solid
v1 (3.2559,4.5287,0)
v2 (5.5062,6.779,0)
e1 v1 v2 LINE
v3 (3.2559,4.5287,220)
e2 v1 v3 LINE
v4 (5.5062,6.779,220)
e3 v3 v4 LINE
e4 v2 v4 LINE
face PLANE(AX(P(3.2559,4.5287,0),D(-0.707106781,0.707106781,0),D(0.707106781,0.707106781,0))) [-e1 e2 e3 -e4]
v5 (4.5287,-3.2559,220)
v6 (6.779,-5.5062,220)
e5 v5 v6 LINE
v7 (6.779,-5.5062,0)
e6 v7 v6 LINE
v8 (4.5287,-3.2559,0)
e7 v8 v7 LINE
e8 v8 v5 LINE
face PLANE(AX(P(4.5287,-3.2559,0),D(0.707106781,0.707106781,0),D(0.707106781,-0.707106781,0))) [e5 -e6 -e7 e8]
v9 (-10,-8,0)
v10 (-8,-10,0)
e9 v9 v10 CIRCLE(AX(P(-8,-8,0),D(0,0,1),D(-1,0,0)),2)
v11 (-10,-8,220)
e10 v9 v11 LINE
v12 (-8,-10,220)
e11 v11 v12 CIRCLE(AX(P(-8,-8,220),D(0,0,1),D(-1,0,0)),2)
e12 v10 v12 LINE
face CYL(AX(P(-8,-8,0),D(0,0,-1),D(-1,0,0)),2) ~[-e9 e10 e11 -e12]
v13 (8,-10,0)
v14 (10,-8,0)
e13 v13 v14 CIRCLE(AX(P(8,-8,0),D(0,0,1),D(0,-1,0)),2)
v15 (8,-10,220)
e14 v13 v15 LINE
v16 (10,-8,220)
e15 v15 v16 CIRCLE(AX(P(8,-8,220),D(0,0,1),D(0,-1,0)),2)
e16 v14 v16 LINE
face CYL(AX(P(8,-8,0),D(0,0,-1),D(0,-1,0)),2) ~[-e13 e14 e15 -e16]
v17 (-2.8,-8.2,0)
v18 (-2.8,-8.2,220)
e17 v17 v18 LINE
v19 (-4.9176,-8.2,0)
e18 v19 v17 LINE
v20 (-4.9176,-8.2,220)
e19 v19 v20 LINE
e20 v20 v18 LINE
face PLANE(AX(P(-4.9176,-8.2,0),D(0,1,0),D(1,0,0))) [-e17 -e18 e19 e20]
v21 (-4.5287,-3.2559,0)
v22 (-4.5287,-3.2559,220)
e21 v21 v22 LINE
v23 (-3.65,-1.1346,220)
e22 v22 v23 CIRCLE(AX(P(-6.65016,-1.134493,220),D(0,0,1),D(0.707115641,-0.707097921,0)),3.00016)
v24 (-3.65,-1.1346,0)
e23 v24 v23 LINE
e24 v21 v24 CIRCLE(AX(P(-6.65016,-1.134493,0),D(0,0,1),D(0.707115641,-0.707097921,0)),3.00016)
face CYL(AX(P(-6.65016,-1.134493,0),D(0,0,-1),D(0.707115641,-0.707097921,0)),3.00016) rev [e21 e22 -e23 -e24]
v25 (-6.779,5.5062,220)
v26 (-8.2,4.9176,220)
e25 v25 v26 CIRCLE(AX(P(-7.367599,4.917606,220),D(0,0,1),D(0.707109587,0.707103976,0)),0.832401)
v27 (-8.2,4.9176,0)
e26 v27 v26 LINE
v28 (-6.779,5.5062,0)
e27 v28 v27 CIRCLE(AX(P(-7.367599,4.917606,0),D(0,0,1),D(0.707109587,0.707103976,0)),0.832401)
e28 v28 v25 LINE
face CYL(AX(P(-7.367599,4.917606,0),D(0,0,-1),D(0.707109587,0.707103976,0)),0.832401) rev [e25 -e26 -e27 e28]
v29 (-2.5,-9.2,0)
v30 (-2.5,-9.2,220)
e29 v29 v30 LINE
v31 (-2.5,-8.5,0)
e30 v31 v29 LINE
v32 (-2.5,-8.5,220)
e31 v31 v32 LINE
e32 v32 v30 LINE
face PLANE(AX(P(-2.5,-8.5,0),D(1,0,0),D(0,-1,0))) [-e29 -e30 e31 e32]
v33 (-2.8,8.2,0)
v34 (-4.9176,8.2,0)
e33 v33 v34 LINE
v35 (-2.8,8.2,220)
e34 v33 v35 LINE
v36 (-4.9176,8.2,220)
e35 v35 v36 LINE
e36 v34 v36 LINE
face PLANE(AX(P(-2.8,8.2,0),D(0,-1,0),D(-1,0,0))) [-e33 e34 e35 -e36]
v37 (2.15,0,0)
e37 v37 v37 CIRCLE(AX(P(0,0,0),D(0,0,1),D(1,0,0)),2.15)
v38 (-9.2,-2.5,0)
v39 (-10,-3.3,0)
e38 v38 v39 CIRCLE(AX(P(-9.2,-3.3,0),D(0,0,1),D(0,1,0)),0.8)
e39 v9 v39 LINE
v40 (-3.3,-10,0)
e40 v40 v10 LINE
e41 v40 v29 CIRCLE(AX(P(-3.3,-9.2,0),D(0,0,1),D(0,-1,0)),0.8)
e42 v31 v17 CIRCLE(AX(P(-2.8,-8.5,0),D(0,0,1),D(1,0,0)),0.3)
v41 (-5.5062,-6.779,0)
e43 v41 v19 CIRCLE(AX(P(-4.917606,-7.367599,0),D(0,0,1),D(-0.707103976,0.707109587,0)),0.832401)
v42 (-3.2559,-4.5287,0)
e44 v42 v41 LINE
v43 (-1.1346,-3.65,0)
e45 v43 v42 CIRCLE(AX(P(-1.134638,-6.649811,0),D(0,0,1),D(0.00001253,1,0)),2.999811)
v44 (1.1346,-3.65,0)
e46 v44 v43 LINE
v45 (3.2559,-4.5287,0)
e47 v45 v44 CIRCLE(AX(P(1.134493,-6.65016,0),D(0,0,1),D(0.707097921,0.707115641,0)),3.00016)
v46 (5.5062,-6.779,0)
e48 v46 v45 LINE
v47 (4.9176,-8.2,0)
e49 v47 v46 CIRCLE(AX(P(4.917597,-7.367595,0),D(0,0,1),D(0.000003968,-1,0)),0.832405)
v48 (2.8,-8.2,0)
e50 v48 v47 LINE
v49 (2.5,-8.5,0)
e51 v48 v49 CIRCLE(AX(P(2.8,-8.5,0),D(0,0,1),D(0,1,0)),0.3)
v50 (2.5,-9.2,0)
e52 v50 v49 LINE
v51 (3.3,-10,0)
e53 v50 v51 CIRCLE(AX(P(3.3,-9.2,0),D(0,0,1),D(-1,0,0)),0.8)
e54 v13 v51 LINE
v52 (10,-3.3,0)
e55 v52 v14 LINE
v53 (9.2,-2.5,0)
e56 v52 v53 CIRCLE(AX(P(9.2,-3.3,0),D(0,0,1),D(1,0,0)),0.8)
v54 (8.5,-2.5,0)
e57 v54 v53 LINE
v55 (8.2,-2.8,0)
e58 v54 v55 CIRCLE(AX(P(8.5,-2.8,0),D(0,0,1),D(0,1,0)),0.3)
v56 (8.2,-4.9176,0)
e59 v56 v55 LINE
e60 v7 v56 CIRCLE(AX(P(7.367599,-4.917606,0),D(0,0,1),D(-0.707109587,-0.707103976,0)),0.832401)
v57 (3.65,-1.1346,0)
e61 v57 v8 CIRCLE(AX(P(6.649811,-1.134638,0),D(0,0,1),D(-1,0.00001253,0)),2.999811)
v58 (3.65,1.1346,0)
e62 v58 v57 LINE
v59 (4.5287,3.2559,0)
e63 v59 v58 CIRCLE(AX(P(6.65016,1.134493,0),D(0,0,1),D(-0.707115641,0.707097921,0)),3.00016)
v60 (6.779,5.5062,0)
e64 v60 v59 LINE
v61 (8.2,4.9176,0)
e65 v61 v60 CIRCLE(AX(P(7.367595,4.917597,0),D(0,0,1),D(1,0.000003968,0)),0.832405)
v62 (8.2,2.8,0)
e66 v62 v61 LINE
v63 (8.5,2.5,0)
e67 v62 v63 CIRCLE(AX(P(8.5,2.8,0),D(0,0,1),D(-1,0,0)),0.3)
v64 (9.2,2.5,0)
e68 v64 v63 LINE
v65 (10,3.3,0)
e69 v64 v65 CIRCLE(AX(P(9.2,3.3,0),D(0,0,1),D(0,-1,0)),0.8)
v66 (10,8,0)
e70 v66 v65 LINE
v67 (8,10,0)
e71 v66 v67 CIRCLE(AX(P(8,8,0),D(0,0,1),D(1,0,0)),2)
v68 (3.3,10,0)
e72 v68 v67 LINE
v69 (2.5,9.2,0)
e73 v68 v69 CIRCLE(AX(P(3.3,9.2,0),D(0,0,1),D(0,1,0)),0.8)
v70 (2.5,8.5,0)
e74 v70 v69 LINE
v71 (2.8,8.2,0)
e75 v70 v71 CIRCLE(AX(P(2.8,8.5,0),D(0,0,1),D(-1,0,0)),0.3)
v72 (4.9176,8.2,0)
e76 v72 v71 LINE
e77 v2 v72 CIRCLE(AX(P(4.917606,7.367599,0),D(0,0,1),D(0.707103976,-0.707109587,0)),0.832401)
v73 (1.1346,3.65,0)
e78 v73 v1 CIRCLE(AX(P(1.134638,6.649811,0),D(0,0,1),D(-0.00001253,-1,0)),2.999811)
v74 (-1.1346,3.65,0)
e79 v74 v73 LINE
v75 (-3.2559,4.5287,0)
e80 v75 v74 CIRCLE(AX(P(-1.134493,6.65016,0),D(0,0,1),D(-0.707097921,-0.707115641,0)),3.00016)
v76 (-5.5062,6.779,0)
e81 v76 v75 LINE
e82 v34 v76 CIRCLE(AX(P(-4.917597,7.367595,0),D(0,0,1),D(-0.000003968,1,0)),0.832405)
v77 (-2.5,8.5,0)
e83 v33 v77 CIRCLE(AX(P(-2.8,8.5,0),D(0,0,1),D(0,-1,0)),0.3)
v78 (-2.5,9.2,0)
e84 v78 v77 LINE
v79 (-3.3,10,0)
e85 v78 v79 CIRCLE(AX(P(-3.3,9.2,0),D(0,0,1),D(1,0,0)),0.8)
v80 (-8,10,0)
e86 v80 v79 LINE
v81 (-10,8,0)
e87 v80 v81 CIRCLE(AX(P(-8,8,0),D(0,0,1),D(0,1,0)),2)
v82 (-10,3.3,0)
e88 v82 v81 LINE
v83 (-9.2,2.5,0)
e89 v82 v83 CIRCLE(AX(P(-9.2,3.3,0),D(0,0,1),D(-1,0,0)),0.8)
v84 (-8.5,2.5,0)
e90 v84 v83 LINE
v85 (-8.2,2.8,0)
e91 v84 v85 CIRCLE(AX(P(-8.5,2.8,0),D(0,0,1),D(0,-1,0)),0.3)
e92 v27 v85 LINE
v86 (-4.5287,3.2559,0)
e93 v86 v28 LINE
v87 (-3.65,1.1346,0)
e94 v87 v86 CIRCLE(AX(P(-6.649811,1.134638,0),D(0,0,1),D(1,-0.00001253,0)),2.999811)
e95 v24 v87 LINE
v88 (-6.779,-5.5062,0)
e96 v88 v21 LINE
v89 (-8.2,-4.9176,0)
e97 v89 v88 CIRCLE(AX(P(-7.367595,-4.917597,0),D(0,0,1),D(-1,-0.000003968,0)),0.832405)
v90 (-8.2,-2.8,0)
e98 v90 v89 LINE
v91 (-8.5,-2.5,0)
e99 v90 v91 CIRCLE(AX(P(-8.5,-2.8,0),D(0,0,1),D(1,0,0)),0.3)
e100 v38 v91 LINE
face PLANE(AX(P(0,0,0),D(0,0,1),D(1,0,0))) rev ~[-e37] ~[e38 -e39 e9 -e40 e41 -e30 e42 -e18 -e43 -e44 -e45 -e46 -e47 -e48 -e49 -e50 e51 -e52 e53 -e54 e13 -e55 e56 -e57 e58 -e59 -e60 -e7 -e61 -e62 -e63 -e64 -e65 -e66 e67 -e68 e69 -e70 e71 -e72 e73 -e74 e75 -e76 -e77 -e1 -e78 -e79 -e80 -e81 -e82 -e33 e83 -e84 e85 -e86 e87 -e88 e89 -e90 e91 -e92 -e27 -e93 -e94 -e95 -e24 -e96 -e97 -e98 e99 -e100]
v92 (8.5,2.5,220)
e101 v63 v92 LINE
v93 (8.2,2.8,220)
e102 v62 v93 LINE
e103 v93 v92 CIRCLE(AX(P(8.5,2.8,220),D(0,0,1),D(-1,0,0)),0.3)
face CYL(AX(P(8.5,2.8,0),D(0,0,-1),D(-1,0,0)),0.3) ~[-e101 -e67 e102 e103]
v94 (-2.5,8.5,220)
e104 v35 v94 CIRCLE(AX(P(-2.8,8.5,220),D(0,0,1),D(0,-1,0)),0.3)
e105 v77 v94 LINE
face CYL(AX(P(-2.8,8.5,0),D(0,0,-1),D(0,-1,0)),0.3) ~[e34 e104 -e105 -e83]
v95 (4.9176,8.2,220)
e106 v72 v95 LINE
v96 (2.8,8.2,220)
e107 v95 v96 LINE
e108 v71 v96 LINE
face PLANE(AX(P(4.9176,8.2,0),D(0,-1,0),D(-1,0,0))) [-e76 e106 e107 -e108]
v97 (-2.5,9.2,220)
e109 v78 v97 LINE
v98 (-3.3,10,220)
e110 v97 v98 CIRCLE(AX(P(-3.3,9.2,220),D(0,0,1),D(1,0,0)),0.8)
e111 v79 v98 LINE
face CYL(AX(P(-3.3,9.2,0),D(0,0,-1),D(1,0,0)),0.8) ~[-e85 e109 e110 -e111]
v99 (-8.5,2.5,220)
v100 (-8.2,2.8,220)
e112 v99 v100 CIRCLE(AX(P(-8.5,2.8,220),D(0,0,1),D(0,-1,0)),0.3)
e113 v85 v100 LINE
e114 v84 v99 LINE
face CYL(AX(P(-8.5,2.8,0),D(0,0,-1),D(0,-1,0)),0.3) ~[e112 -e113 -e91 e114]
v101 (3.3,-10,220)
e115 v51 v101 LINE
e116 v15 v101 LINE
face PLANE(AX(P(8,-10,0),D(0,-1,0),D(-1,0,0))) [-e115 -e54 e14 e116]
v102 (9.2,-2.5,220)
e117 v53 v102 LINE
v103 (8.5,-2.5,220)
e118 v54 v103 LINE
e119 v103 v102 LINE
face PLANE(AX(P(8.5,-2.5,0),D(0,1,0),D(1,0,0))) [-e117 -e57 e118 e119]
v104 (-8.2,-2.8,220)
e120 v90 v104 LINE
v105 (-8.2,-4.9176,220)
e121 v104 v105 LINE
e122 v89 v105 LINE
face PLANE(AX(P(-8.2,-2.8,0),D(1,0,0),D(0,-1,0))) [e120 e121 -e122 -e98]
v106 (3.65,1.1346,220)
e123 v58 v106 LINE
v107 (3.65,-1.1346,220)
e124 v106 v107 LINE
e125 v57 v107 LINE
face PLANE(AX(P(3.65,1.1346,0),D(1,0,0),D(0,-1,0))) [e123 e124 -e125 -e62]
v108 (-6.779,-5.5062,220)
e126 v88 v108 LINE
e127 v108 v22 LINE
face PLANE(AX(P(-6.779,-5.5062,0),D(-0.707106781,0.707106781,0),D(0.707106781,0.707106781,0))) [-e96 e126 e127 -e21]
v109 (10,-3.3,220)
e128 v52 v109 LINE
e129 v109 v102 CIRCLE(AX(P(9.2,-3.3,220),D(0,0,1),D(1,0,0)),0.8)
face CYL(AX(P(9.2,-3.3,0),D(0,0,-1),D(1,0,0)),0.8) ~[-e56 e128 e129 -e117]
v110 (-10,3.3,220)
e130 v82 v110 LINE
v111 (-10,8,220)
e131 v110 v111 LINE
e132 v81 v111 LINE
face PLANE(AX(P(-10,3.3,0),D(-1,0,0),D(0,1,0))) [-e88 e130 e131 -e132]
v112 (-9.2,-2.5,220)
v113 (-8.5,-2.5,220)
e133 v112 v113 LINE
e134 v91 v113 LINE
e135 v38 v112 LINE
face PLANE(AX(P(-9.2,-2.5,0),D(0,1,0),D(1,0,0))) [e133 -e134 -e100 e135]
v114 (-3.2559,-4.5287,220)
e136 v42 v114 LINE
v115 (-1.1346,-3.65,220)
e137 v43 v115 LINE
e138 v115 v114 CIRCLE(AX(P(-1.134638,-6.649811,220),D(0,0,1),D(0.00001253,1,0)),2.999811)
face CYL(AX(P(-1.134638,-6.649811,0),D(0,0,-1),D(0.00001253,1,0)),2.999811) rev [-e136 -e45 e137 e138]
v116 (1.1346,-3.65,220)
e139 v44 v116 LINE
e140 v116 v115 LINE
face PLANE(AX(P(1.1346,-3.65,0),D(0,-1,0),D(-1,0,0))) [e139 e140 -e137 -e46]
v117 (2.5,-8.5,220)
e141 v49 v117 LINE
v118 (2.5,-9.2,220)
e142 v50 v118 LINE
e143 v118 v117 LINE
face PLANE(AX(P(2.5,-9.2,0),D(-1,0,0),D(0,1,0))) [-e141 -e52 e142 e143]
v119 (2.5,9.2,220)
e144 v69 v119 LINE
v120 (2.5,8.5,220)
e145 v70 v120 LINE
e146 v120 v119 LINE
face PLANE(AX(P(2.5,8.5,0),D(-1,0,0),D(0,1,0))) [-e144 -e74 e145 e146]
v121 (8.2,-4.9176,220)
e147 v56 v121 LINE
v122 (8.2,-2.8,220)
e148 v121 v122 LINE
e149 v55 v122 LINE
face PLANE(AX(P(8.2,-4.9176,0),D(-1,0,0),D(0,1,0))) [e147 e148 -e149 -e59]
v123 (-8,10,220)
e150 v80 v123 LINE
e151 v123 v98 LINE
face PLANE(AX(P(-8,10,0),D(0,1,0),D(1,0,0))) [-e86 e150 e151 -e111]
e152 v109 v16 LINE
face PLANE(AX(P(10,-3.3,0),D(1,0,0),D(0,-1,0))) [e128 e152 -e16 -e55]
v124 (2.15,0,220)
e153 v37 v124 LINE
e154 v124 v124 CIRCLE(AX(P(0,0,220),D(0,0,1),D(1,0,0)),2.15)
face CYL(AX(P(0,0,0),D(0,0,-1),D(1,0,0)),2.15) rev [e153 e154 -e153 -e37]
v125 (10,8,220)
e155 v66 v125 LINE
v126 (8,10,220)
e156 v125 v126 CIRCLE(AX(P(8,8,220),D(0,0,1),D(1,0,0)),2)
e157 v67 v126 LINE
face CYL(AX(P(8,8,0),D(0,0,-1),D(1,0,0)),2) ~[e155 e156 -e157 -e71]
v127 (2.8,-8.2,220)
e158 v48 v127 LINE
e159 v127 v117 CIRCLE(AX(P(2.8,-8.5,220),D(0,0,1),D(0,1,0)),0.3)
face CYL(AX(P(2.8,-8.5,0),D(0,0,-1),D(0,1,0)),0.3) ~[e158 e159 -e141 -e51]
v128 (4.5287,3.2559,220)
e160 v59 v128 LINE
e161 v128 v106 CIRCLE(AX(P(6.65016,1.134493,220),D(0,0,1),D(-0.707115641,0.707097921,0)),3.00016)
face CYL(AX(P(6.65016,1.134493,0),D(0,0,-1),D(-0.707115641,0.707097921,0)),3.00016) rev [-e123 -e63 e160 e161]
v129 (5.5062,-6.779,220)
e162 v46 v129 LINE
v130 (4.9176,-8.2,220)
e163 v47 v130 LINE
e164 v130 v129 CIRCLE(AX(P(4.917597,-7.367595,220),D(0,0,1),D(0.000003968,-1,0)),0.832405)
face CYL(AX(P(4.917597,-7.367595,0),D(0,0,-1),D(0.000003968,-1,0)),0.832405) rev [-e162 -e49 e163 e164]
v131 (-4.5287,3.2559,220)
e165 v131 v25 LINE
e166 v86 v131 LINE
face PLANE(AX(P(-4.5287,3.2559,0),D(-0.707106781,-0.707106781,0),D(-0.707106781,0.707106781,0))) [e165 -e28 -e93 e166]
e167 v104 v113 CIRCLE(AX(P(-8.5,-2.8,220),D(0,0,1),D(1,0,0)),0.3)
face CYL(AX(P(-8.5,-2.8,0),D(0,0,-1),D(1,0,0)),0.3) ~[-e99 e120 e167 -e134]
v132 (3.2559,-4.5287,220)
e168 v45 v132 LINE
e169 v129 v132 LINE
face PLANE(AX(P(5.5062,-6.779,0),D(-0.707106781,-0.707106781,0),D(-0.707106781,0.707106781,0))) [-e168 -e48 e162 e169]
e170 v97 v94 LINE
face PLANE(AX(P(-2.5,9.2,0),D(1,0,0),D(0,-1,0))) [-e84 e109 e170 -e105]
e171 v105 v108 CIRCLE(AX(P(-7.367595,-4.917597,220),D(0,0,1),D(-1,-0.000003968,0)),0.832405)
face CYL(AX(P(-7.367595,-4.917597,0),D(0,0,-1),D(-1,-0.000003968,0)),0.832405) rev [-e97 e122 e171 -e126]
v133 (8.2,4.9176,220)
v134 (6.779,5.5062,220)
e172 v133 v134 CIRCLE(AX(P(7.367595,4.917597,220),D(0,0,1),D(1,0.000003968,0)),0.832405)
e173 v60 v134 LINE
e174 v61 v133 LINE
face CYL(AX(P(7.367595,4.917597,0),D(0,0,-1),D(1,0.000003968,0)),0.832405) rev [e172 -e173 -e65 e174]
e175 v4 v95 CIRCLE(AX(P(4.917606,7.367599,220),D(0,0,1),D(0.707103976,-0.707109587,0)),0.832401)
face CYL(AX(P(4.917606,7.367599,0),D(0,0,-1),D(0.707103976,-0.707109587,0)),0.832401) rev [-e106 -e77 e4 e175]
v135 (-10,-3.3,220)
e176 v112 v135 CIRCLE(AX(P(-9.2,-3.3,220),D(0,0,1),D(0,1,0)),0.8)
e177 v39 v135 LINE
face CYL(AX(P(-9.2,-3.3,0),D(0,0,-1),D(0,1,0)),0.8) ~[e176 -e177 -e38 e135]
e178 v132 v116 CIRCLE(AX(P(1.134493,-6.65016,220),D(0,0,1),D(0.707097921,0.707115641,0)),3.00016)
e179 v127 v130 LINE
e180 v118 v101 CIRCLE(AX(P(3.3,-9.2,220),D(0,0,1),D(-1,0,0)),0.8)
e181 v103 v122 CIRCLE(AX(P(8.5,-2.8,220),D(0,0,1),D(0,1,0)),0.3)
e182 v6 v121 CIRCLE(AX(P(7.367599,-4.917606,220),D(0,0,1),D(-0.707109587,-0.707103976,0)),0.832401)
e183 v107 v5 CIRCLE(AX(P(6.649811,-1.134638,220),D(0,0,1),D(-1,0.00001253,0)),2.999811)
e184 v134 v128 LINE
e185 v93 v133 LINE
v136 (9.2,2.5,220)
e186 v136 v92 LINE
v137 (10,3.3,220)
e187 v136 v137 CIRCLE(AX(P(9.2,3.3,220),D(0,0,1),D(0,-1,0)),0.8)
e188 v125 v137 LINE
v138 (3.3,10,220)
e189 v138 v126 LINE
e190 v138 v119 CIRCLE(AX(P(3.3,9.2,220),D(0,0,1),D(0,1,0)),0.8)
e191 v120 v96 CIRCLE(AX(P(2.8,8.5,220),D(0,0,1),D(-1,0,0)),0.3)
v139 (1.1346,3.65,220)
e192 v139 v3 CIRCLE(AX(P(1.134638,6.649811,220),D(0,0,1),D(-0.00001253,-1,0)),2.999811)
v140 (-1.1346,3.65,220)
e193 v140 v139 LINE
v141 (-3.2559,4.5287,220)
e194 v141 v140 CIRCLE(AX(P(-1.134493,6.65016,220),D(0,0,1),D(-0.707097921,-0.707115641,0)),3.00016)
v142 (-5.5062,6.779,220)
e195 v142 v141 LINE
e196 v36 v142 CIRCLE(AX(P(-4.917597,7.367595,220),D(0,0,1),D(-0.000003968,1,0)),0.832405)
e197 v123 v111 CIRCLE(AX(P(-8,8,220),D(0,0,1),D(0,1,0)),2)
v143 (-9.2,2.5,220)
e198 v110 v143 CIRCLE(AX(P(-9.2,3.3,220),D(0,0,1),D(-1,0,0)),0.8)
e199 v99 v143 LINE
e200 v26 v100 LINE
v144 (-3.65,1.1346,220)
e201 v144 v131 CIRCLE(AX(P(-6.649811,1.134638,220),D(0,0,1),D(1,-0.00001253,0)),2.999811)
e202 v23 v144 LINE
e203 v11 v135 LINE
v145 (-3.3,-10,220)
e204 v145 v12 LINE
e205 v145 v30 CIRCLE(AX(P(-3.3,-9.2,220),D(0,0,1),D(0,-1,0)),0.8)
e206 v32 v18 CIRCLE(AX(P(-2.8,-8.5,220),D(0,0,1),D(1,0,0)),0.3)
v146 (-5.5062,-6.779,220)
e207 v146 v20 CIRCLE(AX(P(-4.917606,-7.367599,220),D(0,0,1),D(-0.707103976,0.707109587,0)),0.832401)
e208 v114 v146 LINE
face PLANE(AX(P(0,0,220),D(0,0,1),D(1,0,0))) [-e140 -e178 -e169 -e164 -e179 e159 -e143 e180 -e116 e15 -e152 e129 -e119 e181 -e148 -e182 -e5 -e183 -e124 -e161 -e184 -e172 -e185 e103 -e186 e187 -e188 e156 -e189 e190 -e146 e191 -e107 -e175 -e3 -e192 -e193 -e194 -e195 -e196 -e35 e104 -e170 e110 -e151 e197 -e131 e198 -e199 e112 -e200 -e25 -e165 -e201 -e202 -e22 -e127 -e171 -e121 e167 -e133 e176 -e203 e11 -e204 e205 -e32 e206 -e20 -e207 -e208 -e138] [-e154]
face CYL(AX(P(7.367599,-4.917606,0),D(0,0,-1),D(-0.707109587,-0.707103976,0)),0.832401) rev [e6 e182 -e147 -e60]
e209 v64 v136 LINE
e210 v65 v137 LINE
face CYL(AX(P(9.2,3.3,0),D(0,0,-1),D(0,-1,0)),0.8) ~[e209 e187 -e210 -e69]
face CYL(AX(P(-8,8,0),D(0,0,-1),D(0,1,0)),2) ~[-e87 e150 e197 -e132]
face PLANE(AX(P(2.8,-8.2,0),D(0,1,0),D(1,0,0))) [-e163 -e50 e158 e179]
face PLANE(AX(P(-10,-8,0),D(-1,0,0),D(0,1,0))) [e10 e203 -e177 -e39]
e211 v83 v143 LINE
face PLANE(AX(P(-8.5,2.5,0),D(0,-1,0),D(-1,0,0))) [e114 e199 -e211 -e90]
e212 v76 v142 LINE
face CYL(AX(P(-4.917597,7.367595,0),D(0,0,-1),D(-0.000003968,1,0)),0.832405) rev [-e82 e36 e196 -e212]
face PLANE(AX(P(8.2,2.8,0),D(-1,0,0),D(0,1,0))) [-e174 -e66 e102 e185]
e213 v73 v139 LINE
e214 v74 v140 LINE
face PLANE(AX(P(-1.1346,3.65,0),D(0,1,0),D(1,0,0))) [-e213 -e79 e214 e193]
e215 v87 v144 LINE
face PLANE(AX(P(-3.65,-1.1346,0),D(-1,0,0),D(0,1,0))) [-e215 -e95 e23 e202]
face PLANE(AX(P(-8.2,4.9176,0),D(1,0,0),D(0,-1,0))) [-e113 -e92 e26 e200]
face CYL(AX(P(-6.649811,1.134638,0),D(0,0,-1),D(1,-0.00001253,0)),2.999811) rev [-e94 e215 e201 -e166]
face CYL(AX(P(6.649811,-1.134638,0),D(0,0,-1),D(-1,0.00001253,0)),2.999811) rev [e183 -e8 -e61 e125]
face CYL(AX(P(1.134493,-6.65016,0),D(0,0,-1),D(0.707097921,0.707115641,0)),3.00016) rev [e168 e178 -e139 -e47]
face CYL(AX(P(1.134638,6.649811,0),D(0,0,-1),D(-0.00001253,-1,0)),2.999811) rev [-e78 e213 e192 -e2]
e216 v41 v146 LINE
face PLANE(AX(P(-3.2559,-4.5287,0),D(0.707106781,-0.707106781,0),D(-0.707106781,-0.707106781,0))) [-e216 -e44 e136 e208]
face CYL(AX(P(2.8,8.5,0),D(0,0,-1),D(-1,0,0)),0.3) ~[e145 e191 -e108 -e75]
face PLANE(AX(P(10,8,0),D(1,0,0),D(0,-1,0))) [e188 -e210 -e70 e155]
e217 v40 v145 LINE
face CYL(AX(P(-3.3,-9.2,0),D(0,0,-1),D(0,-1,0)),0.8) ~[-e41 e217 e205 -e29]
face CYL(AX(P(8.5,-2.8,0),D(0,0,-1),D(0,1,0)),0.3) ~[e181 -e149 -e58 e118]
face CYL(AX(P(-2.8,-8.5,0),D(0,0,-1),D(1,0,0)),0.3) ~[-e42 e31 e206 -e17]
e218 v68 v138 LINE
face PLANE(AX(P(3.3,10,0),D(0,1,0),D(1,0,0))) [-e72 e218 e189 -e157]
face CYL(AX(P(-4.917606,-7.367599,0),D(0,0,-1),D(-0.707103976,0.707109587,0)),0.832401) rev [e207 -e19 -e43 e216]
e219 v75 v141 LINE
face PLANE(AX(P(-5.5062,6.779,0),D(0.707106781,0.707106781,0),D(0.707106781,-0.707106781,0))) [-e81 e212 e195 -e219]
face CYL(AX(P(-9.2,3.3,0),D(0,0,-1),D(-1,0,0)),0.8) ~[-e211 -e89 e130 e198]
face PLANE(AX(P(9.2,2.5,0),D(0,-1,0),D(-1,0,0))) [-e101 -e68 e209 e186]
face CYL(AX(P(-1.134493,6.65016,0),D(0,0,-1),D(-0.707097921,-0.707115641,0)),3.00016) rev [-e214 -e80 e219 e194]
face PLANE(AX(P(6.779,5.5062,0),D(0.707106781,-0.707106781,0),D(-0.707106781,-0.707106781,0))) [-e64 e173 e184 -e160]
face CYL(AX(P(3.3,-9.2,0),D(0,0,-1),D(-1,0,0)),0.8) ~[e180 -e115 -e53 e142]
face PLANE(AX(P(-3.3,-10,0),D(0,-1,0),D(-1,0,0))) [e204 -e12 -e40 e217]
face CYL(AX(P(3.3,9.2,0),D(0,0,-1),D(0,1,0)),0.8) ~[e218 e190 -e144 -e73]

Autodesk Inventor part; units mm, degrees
ref_plane "YZ Plane" through (0, 0, 0) normal (1, 0, 0) x (0, 1, 0)
ref_plane "Startebene" through (0, 0, 0) normal (0, 0, 1) x (1, 0, 0)
ref_plane "Endebene" through (0, 0, 220) normal (0, 0, 1) x (1, 0, 0)
sketch "Skizze" plane through (0, 0, 0) normal (0, 0, 1) x (1, 0, 0)
  arc A0 (-4.5287, -3.2559) -> (-3.65, -1.1346) centre (-6.65, -1.1346) ccw
  line L0 (-3.65, -1.1346) -> (-3.65, 1.1346)
  circle A1 centre (0, 0) radius 2.15
  line L1 (1.1346, -3.65) -> (-1.1346, -3.65)
  arc A2 (-1.1346, -3.65) -> (-3.2559, -4.5287) centre (-1.1346, -6.65) ccw
  line L2 (-6.779, -5.5062) -> (-4.5287, -3.2559)
  line L3 (-3.2559, -4.5287) -> (-5.5062, -6.779)
  arc A3 (-2.5, -8.5) -> (-2.8, -8.2) centre (-2.8, -8.5) ccw
  line L4 (-2.5, -8.5) -> (-2.5, -9.2)
  line L5 (-4.9176, -8.2) -> (-2.8, -8.2)
  arc A4 (-5.5062, -6.779) -> (-4.9176, -8.2) centre (-4.9176, -7.3676) ccw
  arc A5 (-3.3, -10) -> (-2.5, -9.2) centre (-3.3, -9.2) ccw
  line L6 (-3.3, -10) -> (-8, -10)
  line L7 (10, -3.3) -> (10, -8)
  line L8 (5.5062, -6.779) -> (3.2559, -4.5287)
  arc A6 (6.779, -5.5062) -> (8.2, -4.9176) centre (7.3676, -4.9176) ccw
  arc A7 (3.2559, -4.5287) -> (1.1346, -3.65) centre (1.1346, -6.65) ccw
  line L9 (4.5287, -3.2559) -> (6.779, -5.5062)
  arc A8 (3.65, -1.1346) -> (4.5287, -3.2559) centre (6.65, -1.1346) ccw
  arc A9 (8.5, -2.5) -> (8.2, -2.8) centre (8.5, -2.8) ccw
  line L10 (3.65, 1.1346) -> (3.65, -1.1346)
  line L11 (8.5, -2.5) -> (9.2, -2.5)
  arc A10 (10, -3.3) -> (9.2, -2.5) centre (9.2, -3.3) ccw
  line L12 (8.2, -4.9176) -> (8.2, -2.8)
  line L13 (2.5, 8.5) -> (2.5, 9.2)
  arc A11 (2.5, 8.5) -> (2.8, 8.2) centre (2.8, 8.5) ccw
  arc A12 (1.1346, 3.65) -> (3.2559, 4.5287) centre (1.1346, 6.65) ccw
  line L14 (-1.1346, 3.65) -> (1.1346, 3.65)
  arc A13 (3.3, 10) -> (2.5, 9.2) centre (3.3, 9.2) ccw
  line L15 (4.9176, 8.2) -> (2.8, 8.2)
  arc A14 (4.5287, 3.2559) -> (3.65, 1.1346) centre (6.65, 1.1346) ccw
  line L16 (3.2559, 4.5287) -> (5.5062, 6.779)
  arc A15 (5.5062, 6.779) -> (4.9176, 8.2) centre (4.9176, 7.3676) ccw
  line L17 (6.779, 5.5062) -> (4.5287, 3.2559)
  line L18 (3.3, 10) -> (8, 10)
  arc A16 (10, 8) -> (8, 10) centre (8, 8) ccw
  line L19 (8.2, 2.8) -> (8.2, 4.9176)
  line L20 (10, 8) -> (10, 3.3)
  arc A17 (8.2, 4.9176) -> (6.779, 5.5062) centre (7.3676, 4.9176) ccw
  line L21 (-2.8, 8.2) -> (-4.9176, 8.2)
  line L22 (-2.5, 9.2) -> (-2.5, 8.5)
  arc A18 (-2.5, 9.2) -> (-3.3, 10) centre (-3.3, 9.2) ccw
  arc A19 (-2.8, 8.2) -> (-2.5, 8.5) centre (-2.8, 8.5) ccw
  arc A20 (-3.65, 1.1346) -> (-4.5287, 3.2559) centre (-6.65, 1.1346) ccw
  arc A21 (-3.2559, 4.5287) -> (-1.1346, 3.65) centre (-1.1346, 6.65) ccw
  arc A22 (4.9176, -8.2) -> (5.5062, -6.779) centre (4.9176, -7.3676) ccw
  arc A23 (8, -10) -> (10, -8) centre (8, -8) ccw
  line L23 (2.8, -8.2) -> (4.9176, -8.2)
  line L24 (8, -10) -> (3.3, -10)
  arc A24 (2.8, -8.2) -> (2.5, -8.5) centre (2.8, -8.5) ccw
  arc A25 (2.5, -9.2) -> (3.3, -10) centre (3.3, -9.2) ccw
  line L25 (2.5, -9.2) -> (2.5, -8.5)
  arc A26 (8.2, 2.8) -> (8.5, 2.5) centre (8.5, 2.8) ccw
  line L26 (9.2, 2.5) -> (8.5, 2.5)
  arc A27 (9.2, 2.5) -> (10, 3.3) centre (9.2, 3.3) ccw
  arc A28 (-4.9176, 8.2) -> (-5.5062, 6.779) centre (-4.9176, 7.3676) ccw
  line L27 (-8, 10) -> (-3.3, 10)
  line L28 (-5.5062, 6.779) -> (-3.2559, 4.5287)
  arc A29 (-8, 10) -> (-10, 8) centre (-8, 8) ccw
  arc A30 (-6.779, 5.5062) -> (-8.2, 4.9176) centre (-7.3676, 4.9176) ccw
  line L29 (-10, 3.3) -> (-10, 8)
  line L30 (-8.2, 4.9176) -> (-8.2, 2.8)
  arc A31 (-8.5, 2.5) -> (-8.2, 2.8) centre (-8.5, 2.8) ccw
  line L31 (-8.5, 2.5) -> (-9.2, 2.5)
  arc A32 (-10, 3.3) -> (-9.2, 2.5) centre (-9.2, 3.3) ccw
  line L32 (-4.5287, 3.2559) -> (-6.779, 5.5062)
  line L33 (-10, -8) -> (-10, -3.3)
  arc A33 (-8.2, -4.9176) -> (-6.779, -5.5062) centre (-7.3676, -4.9176) ccw
  arc A34 (-10, -8) -> (-8, -10) centre (-8, -8) ccw
  line L34 (-10, -8) -> (-10, -3.3)
  arc A35 (-8.2, -2.8) -> (-8.5, -2.5) centre (-8.5, -2.8) ccw
  line L35 (-9.2, -2.5) -> (-8.5, -2.5)
  arc A36 (-9.2, -2.5) -> (-10, -3.3) centre (-9.2, -3.3) ccw
  line L36 (-8.2, -2.8) -> (-8.2, -4.9176)
  dimension "d4" = 4.3
  dimension "d5" = 6.35
  dimension "d6" = 10
  dimension "d7" = 2.5
  dimension "d8" = 5.8
  dimension "d9" = 10.5
  dimension "d10" = 3
  dimension "d11" = 7.5
  dimension "d12" = 12.5
  dimension "d13" = 13.65
  dimension "d14" = 5.7
  dimension "d15" = 10.7
  dimension "d16" = 1.15
  dimension "d17" = 6.15
  dimension "d18" = 1.8
  dimension "d19" = 0.8
  dimension "d20" = 0.3
  dimension "d21" = 2
  dimension "d22" = 0.8324
  dimension "d23" = 45
  dimension "d24" = 90
  dimension "d25" = 90
  dimension "d26" = 1.8
  dimension "d27" = 18.2
  dimension "d28" = 20
  dimension "d29" = 5
  dimension "d30" = 7.5
  dimension "d31" = 1.8
  dimension "d32" = 0.9
  dimension "d33" = 0.9
  dimension "d34" = 20
extrude "Körper" add sketch "Skizze" along normal up to surface (220 mm away) from surface at 0
sketch "Skizze6" plane through (0, 0, 0) normal (0, 0, 1) x (1, 0, 0)
  line L0 (0, 0) -> (10, 0)
ref_plane "Arbeitsebene4" through (0, 0, 0) normal (0, -1, 0) x (1, 0, 0)
sketch "Skizze7" plane through (0, 0, 0) normal (0, -1, 0) x (1, 0, 0)
  line L0 (-2, 0) -> (12, 0)
  line L1 (-2, 220) -> (12, 220)
  dimension "d43" = 220
equation "\"G_OFFSET_START\" = 0"
equation "\"G_OFFSET_END\" = 0"
equation "\"G_L\" = d43"
properties part number "BT001_trajan20_22"
